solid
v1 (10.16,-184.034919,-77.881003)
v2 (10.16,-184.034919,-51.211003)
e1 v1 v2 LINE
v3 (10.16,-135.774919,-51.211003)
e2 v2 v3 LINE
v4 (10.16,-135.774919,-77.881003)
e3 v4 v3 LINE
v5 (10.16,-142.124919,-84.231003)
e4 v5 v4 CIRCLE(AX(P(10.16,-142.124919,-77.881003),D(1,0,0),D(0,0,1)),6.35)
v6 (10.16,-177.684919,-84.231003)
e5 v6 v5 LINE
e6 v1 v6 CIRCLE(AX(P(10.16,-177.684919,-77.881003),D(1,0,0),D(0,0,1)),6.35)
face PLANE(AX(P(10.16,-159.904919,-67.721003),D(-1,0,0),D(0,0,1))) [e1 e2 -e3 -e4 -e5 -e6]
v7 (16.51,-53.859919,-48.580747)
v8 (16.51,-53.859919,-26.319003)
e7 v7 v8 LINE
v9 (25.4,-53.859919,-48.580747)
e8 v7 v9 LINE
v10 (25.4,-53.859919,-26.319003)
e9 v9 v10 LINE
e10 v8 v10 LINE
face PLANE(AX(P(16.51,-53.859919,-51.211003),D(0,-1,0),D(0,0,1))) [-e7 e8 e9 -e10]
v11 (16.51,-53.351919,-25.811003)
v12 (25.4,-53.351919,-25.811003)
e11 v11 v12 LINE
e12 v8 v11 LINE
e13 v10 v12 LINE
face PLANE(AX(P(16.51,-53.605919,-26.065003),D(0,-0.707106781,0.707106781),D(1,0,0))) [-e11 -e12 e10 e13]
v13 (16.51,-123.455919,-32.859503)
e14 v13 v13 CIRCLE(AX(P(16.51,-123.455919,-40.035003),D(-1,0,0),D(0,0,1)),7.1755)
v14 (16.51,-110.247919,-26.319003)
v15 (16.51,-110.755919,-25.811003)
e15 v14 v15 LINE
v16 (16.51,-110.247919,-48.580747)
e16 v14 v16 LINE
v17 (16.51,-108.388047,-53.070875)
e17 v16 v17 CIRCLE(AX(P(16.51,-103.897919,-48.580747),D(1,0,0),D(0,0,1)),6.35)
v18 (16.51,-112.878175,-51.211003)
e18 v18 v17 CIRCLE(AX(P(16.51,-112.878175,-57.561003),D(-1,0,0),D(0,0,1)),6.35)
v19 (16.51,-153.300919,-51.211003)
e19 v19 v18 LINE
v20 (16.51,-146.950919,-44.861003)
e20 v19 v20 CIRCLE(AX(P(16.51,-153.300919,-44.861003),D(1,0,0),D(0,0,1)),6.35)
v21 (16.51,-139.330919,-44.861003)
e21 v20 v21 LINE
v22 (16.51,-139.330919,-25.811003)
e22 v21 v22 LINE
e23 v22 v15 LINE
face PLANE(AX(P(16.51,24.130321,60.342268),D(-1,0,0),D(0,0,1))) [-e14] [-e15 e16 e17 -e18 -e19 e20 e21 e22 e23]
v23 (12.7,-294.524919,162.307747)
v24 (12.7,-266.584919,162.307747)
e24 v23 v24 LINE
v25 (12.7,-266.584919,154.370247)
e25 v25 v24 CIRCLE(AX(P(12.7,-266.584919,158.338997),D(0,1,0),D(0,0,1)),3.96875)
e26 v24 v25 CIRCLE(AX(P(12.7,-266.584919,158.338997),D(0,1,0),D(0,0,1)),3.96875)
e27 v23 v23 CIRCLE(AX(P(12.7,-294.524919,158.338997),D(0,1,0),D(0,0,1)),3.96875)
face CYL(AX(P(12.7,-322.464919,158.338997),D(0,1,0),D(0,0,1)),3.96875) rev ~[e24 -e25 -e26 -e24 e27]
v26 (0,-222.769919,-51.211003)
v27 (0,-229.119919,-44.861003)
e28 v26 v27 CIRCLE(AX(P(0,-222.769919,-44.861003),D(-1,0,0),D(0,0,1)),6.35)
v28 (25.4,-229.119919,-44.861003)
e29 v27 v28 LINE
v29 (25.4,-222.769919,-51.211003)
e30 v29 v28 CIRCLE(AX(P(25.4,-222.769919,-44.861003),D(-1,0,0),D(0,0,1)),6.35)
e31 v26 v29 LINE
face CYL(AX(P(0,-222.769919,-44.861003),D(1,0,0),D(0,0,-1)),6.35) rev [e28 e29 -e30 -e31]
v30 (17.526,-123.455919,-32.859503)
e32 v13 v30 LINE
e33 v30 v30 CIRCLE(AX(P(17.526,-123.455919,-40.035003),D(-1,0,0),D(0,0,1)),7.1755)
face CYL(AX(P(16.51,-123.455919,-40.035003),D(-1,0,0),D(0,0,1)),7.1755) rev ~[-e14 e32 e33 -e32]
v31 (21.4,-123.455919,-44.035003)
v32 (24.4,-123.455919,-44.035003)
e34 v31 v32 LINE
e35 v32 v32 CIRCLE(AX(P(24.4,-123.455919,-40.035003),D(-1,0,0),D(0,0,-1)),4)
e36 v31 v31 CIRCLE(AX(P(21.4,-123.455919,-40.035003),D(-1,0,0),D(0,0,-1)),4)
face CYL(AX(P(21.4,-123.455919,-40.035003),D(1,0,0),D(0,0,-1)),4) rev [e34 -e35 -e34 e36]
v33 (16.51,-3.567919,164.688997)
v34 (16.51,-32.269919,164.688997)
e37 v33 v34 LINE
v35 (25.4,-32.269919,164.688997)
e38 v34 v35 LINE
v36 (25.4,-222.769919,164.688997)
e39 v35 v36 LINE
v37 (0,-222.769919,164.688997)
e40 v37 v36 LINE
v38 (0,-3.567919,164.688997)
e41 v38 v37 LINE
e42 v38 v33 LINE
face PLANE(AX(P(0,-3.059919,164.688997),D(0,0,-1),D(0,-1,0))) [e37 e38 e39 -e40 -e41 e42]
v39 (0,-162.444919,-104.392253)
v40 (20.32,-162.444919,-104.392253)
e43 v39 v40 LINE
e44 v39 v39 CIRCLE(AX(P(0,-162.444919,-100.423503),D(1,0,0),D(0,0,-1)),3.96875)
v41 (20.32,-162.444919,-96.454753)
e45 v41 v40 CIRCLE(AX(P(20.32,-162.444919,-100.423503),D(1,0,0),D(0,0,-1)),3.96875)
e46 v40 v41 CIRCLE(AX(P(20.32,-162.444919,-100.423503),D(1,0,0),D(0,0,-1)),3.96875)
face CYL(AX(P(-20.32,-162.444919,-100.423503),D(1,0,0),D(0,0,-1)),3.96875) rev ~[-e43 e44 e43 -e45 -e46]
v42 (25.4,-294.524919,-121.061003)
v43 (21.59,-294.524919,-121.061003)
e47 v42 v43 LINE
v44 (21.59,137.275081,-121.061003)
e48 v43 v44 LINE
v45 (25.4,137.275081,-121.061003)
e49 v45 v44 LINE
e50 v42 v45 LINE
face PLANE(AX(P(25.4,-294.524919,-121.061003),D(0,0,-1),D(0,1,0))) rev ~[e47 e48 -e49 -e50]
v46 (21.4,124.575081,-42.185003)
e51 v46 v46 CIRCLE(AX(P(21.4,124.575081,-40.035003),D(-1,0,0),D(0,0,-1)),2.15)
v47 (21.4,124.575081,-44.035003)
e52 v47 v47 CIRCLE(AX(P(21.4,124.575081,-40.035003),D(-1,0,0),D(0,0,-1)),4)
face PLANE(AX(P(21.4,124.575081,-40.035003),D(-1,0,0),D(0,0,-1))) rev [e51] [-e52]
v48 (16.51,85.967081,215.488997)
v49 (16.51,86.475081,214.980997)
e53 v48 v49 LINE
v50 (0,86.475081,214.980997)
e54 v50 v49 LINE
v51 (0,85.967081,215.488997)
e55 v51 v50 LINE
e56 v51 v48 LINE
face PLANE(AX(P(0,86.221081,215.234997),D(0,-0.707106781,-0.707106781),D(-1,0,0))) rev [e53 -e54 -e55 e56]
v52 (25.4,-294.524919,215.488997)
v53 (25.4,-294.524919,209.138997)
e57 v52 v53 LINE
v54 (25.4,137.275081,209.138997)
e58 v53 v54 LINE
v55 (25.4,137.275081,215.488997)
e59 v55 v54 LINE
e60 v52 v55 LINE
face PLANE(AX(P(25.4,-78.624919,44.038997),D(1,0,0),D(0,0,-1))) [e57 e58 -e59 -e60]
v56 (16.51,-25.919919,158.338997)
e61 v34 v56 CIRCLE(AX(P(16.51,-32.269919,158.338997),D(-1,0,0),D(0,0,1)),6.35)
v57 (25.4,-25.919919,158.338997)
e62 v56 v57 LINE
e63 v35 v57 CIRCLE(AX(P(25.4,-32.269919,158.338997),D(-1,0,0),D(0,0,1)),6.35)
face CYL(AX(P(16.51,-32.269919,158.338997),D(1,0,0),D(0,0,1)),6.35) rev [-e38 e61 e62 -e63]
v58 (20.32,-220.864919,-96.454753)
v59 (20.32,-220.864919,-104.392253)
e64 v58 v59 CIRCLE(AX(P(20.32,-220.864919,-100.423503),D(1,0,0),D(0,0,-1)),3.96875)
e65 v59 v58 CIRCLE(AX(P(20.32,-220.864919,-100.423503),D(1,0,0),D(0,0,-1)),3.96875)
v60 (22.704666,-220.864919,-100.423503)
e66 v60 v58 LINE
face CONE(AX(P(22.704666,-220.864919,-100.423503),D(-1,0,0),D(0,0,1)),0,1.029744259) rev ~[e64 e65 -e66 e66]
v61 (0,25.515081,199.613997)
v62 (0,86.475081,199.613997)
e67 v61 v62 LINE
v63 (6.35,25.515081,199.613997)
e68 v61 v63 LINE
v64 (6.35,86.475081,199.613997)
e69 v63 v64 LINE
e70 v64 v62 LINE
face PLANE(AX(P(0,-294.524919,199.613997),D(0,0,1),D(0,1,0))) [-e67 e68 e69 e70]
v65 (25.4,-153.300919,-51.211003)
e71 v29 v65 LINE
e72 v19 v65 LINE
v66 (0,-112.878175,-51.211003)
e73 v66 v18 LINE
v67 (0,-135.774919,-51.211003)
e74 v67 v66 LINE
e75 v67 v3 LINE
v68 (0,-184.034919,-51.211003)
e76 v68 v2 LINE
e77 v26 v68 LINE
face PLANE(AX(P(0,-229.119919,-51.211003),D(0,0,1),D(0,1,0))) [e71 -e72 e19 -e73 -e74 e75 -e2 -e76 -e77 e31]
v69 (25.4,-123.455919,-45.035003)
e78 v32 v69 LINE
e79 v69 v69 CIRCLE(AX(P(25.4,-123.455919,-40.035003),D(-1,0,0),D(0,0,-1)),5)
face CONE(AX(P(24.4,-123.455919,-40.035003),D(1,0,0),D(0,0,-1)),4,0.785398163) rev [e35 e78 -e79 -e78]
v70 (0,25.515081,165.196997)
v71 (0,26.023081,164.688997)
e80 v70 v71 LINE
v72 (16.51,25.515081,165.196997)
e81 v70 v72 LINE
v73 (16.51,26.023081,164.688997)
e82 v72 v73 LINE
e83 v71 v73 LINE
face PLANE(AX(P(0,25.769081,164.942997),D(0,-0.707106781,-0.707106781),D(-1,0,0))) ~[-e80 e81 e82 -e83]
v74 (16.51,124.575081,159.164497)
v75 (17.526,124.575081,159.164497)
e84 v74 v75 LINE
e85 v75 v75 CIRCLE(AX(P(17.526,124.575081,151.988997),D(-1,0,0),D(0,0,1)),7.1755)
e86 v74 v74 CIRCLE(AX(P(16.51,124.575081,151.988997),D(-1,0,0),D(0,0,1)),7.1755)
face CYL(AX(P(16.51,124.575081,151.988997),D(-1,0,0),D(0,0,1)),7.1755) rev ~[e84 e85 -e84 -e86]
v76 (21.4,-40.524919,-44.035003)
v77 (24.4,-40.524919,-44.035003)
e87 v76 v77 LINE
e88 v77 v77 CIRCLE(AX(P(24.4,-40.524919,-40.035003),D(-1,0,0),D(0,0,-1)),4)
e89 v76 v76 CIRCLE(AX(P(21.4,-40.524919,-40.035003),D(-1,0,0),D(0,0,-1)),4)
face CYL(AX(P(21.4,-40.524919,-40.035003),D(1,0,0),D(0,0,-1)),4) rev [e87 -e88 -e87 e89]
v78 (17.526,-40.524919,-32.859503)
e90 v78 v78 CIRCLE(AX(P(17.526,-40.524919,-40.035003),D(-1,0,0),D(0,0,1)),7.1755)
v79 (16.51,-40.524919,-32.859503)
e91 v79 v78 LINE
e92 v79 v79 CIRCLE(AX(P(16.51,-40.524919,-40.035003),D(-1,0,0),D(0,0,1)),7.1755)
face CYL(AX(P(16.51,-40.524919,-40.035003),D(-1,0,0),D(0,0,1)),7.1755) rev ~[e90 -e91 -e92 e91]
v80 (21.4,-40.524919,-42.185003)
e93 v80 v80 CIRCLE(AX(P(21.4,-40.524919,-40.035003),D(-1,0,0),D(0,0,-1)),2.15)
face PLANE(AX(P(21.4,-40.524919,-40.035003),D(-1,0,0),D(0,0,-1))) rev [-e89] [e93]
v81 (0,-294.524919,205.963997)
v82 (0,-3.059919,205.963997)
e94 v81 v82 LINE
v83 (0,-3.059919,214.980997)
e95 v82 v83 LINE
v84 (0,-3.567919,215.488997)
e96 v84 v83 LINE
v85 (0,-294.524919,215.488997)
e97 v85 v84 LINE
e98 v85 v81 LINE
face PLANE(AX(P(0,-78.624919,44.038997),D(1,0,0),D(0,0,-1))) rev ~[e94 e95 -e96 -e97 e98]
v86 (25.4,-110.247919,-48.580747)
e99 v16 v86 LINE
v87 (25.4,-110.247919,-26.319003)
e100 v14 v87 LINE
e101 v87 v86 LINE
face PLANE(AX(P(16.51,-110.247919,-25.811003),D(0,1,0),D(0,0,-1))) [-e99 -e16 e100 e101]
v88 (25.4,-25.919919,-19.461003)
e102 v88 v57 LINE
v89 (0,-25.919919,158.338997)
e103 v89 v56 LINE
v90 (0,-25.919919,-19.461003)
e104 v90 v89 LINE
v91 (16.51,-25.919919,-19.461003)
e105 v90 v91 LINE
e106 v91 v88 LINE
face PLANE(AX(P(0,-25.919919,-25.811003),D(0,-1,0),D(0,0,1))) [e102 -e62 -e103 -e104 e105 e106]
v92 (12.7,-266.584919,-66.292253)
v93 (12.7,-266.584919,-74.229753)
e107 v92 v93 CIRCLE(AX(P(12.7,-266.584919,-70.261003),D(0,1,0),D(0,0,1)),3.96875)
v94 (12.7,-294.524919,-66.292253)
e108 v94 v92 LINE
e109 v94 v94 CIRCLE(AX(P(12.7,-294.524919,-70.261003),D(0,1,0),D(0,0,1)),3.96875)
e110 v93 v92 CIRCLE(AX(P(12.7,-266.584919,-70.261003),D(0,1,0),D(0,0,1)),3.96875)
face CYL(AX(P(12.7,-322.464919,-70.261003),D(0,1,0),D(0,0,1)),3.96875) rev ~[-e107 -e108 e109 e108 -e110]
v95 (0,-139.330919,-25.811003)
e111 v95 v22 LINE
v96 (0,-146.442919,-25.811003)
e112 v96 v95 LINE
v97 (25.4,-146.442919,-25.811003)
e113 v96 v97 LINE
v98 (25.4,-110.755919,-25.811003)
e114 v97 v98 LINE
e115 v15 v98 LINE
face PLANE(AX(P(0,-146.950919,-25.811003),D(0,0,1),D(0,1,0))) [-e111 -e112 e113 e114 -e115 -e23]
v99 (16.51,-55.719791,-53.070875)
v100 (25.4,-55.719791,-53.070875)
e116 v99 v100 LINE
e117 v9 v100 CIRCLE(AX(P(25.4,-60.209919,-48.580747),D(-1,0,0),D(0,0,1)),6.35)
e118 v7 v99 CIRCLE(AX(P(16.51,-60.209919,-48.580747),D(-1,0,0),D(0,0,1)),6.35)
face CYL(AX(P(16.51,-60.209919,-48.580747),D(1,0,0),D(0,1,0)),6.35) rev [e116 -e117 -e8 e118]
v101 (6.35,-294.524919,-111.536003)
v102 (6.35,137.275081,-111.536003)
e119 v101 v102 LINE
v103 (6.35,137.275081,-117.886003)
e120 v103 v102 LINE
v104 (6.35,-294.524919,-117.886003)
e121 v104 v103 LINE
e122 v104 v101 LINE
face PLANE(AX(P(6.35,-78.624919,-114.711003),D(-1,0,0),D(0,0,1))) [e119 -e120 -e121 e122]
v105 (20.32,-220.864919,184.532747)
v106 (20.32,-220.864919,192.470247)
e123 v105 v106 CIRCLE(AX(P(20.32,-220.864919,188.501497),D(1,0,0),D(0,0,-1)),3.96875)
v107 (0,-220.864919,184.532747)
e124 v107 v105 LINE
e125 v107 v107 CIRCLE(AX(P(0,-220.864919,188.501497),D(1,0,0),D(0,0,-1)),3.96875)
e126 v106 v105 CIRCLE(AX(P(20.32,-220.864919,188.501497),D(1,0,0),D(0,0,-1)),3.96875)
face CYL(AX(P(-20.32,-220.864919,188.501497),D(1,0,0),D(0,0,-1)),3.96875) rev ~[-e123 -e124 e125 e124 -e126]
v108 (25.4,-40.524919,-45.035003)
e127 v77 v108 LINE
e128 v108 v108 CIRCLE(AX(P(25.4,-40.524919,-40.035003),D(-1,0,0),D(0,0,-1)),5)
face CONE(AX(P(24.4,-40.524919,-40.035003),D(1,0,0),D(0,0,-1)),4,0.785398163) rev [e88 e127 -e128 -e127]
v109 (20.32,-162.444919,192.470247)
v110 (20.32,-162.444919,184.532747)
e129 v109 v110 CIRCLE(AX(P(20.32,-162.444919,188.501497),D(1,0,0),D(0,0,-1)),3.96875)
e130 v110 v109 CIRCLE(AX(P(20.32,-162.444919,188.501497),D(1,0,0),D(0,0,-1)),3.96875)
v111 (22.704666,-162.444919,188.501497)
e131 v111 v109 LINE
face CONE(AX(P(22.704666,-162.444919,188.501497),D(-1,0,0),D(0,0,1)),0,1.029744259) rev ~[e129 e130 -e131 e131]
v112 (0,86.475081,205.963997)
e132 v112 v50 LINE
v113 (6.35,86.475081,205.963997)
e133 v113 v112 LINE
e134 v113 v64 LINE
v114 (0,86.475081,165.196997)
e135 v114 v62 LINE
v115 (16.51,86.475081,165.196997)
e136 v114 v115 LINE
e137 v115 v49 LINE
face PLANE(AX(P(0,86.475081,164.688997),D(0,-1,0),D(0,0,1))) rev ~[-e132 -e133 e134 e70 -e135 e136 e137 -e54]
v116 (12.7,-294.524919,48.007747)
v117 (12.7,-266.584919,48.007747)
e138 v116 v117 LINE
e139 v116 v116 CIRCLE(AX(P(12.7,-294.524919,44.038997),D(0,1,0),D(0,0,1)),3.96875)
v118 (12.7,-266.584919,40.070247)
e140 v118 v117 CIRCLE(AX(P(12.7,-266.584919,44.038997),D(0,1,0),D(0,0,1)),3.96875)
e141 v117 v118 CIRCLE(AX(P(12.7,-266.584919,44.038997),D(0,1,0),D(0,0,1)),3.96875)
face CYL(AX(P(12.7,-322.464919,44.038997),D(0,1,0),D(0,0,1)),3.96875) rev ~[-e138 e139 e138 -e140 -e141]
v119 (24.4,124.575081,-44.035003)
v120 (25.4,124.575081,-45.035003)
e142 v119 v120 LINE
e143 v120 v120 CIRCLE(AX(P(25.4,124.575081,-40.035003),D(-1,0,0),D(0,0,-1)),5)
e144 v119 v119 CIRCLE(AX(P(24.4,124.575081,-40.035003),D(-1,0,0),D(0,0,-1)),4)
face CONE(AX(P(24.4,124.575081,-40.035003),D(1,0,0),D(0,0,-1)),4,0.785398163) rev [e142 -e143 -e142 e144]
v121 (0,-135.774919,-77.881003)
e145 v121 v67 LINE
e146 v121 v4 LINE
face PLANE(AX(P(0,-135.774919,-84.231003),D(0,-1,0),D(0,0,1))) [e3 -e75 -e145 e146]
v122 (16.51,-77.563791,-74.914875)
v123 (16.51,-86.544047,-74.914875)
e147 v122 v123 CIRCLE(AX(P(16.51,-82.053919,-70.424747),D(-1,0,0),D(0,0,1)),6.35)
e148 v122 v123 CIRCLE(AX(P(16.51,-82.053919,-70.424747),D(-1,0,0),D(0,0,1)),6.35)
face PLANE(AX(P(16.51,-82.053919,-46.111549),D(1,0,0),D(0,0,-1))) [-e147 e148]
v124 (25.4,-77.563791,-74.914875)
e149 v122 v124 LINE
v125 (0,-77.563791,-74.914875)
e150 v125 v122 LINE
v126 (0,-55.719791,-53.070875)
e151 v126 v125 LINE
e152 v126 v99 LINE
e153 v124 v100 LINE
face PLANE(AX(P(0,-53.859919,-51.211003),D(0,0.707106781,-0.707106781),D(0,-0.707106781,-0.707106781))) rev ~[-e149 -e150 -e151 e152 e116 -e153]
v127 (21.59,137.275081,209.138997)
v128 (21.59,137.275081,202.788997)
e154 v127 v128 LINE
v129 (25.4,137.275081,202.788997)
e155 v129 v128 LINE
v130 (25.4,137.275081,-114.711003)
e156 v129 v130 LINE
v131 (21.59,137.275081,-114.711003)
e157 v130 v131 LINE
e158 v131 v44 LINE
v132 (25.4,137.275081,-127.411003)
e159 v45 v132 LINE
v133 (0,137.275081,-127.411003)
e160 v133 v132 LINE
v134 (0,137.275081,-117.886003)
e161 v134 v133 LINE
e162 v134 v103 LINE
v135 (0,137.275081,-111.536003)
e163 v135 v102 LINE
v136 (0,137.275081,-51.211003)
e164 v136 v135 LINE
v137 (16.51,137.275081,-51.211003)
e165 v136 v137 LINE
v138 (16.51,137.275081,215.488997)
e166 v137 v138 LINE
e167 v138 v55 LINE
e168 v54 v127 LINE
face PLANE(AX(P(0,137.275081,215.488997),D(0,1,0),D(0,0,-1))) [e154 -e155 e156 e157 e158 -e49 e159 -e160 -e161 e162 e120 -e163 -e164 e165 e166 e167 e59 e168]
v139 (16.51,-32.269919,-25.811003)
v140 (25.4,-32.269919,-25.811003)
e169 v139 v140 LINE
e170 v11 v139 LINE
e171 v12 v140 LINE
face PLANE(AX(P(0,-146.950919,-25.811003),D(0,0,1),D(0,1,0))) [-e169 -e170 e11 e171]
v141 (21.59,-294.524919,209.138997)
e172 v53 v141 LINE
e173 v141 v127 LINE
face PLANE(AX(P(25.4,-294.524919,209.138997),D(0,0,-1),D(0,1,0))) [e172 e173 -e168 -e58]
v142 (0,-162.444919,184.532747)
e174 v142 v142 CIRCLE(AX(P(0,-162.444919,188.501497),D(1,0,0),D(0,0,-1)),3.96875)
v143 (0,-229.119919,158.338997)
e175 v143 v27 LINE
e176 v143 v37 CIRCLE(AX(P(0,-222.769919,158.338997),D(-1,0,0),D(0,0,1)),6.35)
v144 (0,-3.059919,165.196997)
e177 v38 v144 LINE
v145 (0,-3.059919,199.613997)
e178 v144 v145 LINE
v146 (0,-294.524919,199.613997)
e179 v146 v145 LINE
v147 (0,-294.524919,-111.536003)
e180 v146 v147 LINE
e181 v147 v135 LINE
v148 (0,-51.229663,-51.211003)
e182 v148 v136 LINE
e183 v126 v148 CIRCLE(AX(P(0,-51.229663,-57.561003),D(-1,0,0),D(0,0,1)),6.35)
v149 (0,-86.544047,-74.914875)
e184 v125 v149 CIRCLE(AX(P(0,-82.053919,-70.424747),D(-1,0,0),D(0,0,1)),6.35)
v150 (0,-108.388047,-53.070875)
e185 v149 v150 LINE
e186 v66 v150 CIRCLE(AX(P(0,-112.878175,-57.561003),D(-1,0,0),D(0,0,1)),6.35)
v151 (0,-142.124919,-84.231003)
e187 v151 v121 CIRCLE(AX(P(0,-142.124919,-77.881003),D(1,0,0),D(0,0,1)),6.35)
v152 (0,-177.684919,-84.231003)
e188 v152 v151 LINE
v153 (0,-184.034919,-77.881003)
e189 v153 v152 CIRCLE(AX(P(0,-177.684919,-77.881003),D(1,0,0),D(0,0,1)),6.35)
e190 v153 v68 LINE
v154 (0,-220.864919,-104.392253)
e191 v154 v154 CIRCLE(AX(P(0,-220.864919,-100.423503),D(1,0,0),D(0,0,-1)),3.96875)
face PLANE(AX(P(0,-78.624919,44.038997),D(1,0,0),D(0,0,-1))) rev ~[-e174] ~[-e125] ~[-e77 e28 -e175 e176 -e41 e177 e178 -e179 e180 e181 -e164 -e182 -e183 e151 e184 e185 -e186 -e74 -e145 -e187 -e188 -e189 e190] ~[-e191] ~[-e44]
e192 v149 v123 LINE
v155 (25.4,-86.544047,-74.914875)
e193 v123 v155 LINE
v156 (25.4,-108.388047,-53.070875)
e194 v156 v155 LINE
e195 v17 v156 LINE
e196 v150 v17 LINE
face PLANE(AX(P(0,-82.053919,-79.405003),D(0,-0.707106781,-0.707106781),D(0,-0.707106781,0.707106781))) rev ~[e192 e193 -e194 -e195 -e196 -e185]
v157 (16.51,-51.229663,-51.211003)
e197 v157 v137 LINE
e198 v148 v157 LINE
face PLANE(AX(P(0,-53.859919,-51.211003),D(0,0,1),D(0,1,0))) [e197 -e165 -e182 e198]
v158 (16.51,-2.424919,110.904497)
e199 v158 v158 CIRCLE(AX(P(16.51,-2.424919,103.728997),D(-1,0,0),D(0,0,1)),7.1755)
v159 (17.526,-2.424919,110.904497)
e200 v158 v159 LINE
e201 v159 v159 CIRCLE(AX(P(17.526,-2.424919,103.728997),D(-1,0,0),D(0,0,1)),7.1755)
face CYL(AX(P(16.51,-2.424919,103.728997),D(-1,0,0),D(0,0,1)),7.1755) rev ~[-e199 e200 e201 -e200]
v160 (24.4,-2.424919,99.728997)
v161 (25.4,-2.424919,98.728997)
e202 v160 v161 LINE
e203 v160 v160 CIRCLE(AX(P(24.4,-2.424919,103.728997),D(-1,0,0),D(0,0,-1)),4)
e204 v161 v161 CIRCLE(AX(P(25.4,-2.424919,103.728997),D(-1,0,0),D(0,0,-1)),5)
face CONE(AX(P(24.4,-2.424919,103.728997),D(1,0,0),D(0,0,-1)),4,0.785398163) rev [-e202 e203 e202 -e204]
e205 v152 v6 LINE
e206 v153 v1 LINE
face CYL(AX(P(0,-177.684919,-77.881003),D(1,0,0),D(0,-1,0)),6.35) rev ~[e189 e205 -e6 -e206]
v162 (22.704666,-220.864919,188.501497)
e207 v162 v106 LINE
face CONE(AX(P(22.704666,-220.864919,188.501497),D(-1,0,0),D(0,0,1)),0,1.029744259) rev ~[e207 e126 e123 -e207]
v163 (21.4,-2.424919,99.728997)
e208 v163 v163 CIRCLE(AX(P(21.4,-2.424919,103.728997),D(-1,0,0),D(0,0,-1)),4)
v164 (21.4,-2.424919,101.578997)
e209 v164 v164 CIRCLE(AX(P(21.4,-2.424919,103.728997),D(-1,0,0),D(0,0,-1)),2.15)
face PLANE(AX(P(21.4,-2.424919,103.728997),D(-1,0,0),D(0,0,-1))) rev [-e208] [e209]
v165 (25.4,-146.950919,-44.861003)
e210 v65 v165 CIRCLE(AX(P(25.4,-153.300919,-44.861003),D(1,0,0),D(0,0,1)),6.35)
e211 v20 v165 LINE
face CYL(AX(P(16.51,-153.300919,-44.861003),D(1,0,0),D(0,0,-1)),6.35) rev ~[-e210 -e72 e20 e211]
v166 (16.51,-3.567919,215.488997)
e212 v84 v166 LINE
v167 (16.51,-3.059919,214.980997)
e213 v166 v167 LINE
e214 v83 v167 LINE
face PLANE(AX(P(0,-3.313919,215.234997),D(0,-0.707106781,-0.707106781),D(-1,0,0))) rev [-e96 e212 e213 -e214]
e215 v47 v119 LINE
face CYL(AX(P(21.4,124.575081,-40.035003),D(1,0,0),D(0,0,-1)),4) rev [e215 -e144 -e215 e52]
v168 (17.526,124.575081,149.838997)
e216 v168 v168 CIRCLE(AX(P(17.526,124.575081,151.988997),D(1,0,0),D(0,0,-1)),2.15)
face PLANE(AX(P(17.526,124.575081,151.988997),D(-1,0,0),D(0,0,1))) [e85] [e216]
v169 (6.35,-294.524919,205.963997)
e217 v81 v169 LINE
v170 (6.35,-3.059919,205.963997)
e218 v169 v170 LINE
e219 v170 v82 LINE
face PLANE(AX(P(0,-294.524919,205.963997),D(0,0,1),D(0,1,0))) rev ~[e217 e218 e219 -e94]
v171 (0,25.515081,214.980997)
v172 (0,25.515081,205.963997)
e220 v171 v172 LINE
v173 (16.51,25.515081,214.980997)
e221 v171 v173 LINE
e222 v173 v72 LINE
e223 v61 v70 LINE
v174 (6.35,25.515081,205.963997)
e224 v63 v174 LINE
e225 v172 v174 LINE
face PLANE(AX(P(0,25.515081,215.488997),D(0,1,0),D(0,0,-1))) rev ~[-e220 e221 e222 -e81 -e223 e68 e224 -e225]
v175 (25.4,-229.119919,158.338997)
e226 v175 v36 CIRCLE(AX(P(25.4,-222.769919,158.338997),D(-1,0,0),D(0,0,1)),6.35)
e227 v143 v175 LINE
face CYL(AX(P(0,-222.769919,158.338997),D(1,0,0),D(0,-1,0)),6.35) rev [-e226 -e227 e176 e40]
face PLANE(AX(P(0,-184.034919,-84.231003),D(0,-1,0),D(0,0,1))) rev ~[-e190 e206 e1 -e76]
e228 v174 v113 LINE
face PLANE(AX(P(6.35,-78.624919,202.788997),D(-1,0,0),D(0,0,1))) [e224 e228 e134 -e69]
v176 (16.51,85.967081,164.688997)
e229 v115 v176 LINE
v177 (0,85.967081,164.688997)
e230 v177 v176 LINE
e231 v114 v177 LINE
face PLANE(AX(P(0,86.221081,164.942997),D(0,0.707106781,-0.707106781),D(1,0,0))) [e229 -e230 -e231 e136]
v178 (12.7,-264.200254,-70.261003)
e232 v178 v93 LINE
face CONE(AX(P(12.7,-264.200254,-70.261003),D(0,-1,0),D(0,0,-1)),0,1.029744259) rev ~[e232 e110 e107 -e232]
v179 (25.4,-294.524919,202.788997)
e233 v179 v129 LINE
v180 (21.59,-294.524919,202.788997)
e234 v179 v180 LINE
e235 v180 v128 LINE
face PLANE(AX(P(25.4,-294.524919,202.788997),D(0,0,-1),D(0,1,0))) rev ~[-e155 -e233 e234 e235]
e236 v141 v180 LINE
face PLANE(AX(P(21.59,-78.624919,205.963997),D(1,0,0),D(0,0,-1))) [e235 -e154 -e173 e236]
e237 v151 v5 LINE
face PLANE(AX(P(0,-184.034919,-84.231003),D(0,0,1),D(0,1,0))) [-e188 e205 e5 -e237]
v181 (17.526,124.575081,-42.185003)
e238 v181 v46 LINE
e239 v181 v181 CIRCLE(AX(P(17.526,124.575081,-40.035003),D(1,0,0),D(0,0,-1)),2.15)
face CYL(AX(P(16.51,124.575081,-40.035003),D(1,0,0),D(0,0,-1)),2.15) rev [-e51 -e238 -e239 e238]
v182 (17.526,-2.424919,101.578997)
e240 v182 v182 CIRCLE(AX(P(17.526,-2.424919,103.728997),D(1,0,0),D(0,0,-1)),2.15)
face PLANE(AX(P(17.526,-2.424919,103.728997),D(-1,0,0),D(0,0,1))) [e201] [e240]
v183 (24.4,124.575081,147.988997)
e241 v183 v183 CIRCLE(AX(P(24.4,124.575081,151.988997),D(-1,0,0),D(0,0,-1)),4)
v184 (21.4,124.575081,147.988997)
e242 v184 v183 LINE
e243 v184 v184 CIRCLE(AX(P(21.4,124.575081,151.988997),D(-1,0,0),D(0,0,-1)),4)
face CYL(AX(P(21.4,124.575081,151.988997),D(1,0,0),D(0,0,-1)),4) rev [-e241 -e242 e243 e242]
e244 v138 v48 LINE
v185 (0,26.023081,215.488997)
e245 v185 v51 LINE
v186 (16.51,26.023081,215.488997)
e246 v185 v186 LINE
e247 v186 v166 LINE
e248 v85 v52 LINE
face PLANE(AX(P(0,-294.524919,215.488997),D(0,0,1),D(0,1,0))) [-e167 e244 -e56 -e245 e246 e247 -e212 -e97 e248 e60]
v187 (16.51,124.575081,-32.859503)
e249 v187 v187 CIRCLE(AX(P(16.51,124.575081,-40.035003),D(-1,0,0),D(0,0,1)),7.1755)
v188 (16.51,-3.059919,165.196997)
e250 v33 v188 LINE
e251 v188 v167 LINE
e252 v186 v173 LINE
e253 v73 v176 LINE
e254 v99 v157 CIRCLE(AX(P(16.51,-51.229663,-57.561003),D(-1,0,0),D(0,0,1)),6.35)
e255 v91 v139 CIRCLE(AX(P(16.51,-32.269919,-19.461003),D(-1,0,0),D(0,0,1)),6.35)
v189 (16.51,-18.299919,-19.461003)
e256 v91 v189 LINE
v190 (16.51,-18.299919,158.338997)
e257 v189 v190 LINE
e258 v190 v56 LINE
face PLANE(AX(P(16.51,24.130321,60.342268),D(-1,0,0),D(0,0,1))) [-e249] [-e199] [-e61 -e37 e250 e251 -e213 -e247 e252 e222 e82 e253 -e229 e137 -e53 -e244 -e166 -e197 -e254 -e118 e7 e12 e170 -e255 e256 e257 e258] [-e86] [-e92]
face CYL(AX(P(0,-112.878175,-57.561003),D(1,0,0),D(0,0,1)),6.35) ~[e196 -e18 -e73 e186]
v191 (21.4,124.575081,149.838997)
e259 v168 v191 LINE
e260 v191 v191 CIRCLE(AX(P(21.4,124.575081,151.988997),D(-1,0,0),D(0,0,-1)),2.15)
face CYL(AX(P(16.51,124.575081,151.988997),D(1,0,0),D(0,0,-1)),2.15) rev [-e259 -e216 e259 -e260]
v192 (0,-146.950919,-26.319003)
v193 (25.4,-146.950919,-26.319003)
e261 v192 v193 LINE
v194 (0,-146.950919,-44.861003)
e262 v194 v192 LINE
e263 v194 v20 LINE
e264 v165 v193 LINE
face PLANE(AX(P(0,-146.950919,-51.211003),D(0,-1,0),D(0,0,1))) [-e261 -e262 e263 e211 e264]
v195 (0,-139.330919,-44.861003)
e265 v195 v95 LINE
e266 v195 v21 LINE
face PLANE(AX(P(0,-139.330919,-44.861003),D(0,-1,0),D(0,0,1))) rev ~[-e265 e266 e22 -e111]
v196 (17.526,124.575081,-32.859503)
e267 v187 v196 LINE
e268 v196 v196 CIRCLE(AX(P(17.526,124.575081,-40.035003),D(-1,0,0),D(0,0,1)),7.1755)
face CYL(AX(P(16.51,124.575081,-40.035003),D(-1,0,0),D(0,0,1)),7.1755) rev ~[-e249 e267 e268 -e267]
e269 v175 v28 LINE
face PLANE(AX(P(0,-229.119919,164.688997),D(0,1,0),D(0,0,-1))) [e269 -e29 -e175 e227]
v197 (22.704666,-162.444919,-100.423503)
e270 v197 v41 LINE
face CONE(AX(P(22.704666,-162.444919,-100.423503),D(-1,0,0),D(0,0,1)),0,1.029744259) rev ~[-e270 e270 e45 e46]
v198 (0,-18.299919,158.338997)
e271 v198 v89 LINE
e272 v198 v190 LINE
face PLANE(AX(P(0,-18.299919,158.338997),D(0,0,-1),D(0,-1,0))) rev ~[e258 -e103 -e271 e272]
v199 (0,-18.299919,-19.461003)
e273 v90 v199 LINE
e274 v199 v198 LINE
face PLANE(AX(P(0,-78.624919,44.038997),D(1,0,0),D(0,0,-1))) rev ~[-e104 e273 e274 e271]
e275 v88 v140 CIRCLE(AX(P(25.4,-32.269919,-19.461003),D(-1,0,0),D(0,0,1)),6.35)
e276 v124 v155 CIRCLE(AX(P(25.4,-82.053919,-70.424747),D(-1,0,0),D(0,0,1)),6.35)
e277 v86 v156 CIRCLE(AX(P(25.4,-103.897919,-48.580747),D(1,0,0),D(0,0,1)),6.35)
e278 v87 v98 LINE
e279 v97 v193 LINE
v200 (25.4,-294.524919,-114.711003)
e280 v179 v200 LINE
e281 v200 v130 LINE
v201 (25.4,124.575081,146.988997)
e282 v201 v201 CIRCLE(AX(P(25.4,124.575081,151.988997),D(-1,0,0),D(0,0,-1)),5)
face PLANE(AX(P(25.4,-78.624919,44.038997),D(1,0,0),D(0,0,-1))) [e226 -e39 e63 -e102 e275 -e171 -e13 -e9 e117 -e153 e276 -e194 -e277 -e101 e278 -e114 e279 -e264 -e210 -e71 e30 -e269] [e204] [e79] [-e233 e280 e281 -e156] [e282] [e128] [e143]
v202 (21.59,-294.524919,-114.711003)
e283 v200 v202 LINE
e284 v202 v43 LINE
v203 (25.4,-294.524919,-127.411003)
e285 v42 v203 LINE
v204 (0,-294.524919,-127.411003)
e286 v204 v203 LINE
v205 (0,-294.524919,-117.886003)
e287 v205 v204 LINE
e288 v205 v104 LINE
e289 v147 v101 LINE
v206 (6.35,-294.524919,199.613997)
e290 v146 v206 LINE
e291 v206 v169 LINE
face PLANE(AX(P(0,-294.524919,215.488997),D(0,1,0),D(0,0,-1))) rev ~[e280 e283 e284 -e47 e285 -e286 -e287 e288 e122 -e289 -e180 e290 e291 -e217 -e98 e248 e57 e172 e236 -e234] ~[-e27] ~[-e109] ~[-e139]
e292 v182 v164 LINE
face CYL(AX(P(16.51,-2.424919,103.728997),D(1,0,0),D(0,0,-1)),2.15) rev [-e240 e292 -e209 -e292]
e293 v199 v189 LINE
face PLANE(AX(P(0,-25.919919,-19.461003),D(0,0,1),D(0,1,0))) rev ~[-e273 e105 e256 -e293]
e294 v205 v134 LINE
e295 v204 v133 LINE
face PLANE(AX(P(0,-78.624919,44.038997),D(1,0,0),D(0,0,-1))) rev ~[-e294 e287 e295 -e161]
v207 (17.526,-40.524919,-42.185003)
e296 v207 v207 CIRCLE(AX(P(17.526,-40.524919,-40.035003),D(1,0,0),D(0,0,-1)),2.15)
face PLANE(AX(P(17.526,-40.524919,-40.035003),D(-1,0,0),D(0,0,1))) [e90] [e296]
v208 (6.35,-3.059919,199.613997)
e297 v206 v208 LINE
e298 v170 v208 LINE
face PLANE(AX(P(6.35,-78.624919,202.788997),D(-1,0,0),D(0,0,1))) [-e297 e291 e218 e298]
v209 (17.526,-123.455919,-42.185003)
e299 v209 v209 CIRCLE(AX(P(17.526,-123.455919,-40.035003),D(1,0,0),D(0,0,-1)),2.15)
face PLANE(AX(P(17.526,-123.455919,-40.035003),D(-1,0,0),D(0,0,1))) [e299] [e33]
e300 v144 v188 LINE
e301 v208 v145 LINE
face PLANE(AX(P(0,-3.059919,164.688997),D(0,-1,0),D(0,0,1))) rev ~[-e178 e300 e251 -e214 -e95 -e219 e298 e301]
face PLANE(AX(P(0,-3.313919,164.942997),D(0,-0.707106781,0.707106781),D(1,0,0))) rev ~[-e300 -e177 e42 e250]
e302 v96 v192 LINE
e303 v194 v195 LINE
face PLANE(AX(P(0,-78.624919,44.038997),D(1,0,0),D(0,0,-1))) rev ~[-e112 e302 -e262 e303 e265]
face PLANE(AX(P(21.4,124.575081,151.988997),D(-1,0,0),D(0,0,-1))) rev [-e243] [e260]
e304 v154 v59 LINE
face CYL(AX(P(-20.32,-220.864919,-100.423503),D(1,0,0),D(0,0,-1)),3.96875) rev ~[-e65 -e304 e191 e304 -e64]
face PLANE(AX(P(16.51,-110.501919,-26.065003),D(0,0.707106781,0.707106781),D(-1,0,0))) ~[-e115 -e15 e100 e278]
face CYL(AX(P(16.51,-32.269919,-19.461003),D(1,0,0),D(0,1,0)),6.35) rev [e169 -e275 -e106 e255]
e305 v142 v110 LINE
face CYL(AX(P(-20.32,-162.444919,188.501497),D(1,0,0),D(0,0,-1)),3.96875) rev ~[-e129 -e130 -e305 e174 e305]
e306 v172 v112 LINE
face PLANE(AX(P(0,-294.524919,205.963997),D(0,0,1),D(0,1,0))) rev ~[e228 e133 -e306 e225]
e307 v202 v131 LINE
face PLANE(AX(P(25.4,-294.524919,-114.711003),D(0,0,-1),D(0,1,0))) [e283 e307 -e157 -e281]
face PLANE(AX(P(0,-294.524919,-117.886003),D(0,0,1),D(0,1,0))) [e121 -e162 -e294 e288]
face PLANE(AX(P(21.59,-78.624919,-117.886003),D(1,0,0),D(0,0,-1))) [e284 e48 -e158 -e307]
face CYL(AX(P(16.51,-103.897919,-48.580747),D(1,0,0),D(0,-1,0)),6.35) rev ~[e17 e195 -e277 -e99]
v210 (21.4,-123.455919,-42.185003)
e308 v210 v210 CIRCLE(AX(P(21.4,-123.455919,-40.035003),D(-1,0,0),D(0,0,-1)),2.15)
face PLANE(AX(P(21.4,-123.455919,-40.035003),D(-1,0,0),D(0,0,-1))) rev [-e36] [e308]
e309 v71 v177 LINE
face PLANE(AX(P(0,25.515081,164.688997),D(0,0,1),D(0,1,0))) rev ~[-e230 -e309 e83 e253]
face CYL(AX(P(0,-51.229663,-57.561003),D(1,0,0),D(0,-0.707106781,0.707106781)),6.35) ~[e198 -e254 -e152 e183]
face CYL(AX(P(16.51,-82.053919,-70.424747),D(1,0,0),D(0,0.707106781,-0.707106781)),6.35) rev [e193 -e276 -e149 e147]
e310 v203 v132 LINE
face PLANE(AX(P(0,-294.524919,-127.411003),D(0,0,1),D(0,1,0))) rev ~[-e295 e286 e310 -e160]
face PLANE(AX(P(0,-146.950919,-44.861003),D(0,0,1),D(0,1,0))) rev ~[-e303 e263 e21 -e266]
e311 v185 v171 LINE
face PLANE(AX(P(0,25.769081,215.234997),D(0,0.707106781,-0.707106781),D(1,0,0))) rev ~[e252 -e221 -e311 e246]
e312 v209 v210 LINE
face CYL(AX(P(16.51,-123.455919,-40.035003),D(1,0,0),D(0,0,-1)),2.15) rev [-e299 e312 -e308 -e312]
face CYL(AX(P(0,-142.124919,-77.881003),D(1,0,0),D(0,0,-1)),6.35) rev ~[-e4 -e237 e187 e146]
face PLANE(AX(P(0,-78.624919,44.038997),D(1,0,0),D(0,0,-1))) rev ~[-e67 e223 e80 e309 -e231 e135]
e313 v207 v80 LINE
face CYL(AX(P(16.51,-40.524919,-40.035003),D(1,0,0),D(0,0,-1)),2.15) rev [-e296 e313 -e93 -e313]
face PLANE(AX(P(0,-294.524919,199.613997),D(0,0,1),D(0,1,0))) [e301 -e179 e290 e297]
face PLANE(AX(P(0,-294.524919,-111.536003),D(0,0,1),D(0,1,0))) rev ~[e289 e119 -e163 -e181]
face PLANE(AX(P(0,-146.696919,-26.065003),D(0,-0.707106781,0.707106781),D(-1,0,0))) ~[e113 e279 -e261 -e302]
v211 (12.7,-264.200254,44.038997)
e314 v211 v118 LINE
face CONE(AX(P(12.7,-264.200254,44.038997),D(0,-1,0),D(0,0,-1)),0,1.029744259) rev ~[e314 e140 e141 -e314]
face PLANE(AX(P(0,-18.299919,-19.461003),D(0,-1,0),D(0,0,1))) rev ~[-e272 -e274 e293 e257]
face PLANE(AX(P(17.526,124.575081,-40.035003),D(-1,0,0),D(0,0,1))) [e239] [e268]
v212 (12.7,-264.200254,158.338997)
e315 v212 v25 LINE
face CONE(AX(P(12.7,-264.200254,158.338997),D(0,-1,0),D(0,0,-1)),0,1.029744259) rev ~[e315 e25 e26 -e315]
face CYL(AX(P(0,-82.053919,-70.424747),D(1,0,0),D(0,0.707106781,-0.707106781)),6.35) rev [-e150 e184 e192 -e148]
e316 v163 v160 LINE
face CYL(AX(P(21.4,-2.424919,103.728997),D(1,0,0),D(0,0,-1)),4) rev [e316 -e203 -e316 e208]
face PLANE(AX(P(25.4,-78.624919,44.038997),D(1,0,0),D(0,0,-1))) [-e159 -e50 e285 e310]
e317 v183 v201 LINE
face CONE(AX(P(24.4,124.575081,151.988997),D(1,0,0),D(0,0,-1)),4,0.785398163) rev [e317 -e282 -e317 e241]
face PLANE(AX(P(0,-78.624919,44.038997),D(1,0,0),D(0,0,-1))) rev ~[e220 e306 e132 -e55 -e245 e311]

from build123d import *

# Parameters (mm, degrees)
SKETCH2_W                     = 342.9
SKETCH2_H                     = 431.8
BASE_DEPTH                    = 25.4
CUT_EXTRUDE3_REACH            = 27.4
NC_POCKET_DEPTH               = 16.51
FILLET9_R                     = 6.35
FILLET6_R                     = 6.35
CBORE_FOR_M4_SHCS1_AT_2_COUNT = 2
CBORE_FOR_M4_SHCS1_AT_2_PITCH = 192.024
CBORE_FOR_M4_SHCS1_AT_3_COUNT = 2
CBORE_FOR_M4_SHCS1_AT_3_PITCH = 313.675937134
CBORE_FOR_M4_SHCS1_AT_4_COUNT = 2
CBORE_FOR_M4_SHCS1_AT_4_PITCH = 253.241439295
CBORE_FOR_M4_SHCS1_AT_5_COUNT = 2
CBORE_FOR_M4_SHCS1_AT_5_PITCH = 135.860323862
SKETCH18_R                    = 7.1755
CUT_EXTRUDE4_DEPTH            = 1.016
F_3_8_16_TAPPED_HOLE1_D       = 7.9375
F_3_8_16_TAPPED_HOLE1_DEPTH   = 27.94
F_3_8_16_TAPPED_HOLE1_TIP     = 2.384665582
F_3_8_16_TAPPED_HOLE2_D       = 7.9375
F_3_8_16_TAPPED_HOLE2_DEPTH   = 20.32
F_3_8_16_TAPPED_HOLE2_TIP     = 2.384665582
CUT_EXTRUDE5_REACH            = 10.89
FILLET1_R                     = 6.35
FILLET2_R                     = 6.35
CHAMFER1_SIZE                 = 0.508
SKETCH21_W                    = 6.35
SKETCH21_H                    = 431.8
CUT_EXTRUDE6_DEPTH            = 6.35
SKETCH22_W                    = 6.35
SKETCH22_H                    = 431.8
CUT_EXTRUDE7_DEPTH            = 3.81
SKETCH23_W                    = 33.02
SKETCH23_H                    = 48.26
CUT_EXTRUDE8_DEPTH            = 10.16
FILLET10_R                    = 6.35


with BuildPart() as part:
    # Sketch2 → Base (new body)
    with BuildSketch(Plane(origin=(0, 0, 0), x_dir=(0, 0, -1), z_dir=(1, 0, 0))):
        with Locations((-44.038996764, -78.624919094)):
            Rectangle(SKETCH2_W, SKETCH2_H)
    extrude(amount=BASE_DEPTH)

    # Sketch3 → Cut-Extrude3 (cut, up to next)
    with BuildSketch(Plane(origin=(0, 0, 0), x_dir=(0, 0, -1), z_dir=(1, 0, 0)), mode=Mode.PRIVATE) as cut_extrude3_sk1:
        Polygon((-164.688996764, -25.919919094), (-164.688996764, -229.119919094), (51.211003236, -229.119919094), (51.211003236, -146.950919094), (25.811003236, -146.950919094), (25.811003236, -25.919919094), align=None)
    cut_extrude3_tool1 = extrude(cut_extrude3_sk1.sketch, amount=CUT_EXTRUDE3_REACH, mode=Mode.PRIVATE) & part.part
    add(cut_extrude3_tool1.solids().sort_by_distance((0, -130.615794, 63.91645))[0], mode=Mode.SUBTRACT)

    # Sketch4 → NC pocket (cut)
    with BuildSketch(Plane(origin=(0, 0, 0), x_dir=(0, 0, -1), z_dir=(1, 0, 0))):
        Polygon((19.461003236, -18.299919094), (-158.338996764, -18.299919094), (-158.338996764, -25.919919094), (-164.688996764, -25.919919094), (-164.688996764, -12.583714933), (-164.688996764, -3.059919094), (-215.488996764, -3.059919094), (-215.488996764, 25.515080906), (-164.688996764, 25.515080906), (-164.688996764, 86.475080906), (-215.488996764, 86.475080906), (-215.488996764, 90.285080906), (-215.488996764, 137.275080906), (-202.788996764, 137.275080906), (51.211003236, 137.275080906), (51.211003236, -15.124919094), (51.211003236, -53.859919094), (79.405003236, -82.053919094), (51.211003236, -110.247919094), (51.211003236, -136.155919094), (51.211003236, -146.950919094), (44.861003236, -146.950919094), (44.861003236, -139.330919094), (25.811003236, -139.330919094), (25.811003236, -25.919919094), (19.461003236, -25.919919094), align=None)
    extrude(amount=NC_POCKET_DEPTH, mode=Mode.SUBTRACT)

    # Fillet9
    fillet9_edges = [part.edges().sort_by_distance(p)[0] for p in [
        (8.255, -53.859919094, -51.211003236),
        (8.255, -110.247919094, -51.211003236),
    ]]
    fillet(fillet9_edges, radius=FILLET9_R)

    # Fillet6
    fillet6_edges = [part.edges().sort_by_distance(p)[0] for p in [
        (8.255, -82.053919094, -79.405003236),
    ]]
    fillet(fillet6_edges, radius=FILLET6_R)

    # Sketch10 → CBORE for M4 SHCS1 (revolve, cut)
    with BuildSketch(Plane(origin=(25.4, 124.575080906, 151.988996764), x_dir=(0, 0, -1), z_dir=(0, 1, 0))):
        Polygon((0, 0), (0, 8.89), (2.15, 8.89), (2.15, 4), (4, 4), (4, 1), (5, 0), align=None)
    cbore_for_m4_shcs1 = revolve(axis=Axis((31.75, 124.575080906, 151.988996764), (-1, 0, 0)), mode=Mode.SUBTRACT)

    # CBORE for M4 SHCS1 at 2: CBORE for M4 SHCS1 ×2
    with Locations(*[(0, 0, -i * CBORE_FOR_M4_SHCS1_AT_2_PITCH) for i in range(1, CBORE_FOR_M4_SHCS1_AT_2_COUNT)]):
        add(cbore_for_m4_shcs1, mode=Mode.SUBTRACT)

    # CBORE for M4 SHCS1 at 3: CBORE for M4 SHCS1 ×2
    with Locations(*[Vector(0, -0.790723708, -0.612173193) * (i * CBORE_FOR_M4_SHCS1_AT_3_PITCH) for i in range(1, CBORE_FOR_M4_SHCS1_AT_3_COUNT)]):
        add(cbore_for_m4_shcs1, mode=Mode.SUBTRACT)

    # CBORE for M4 SHCS1 at 4: CBORE for M4 SHCS1 ×2
    with Locations(*[Vector(0, -0.651947013, -0.758264526) * (i * CBORE_FOR_M4_SHCS1_AT_4_PITCH) for i in range(1, CBORE_FOR_M4_SHCS1_AT_4_COUNT)]):
        add(cbore_for_m4_shcs1, mode=Mode.SUBTRACT)

    # CBORE for M4 SHCS1 at 5: CBORE for M4 SHCS1 ×2
    with Locations(*[Vector(0, -0.934783581, -0.355217761) * (i * CBORE_FOR_M4_SHCS1_AT_5_PITCH) for i in range(1, CBORE_FOR_M4_SHCS1_AT_5_COUNT)]):
        add(cbore_for_m4_shcs1, mode=Mode.SUBTRACT)

    # Sketch18 → Cut-Extrude4 (cut)
    with BuildSketch(Plane.ZY.offset(-16.51)):
        with Locations((-40.035003236, 124.575080906)):
            Circle(SKETCH18_R)
        with Locations((151.988996764, 124.575080906)):
            Circle(SKETCH18_R)
        with Locations((103.728996764, -2.424919094)):
            Circle(SKETCH18_R)
        with Locations((-40.035003236, -40.524919094)):
            Circle(SKETCH18_R)
        with Locations((-40.035003236, -123.455919094)):
            Circle(SKETCH18_R)
    extrude(amount=-CUT_EXTRUDE4_DEPTH, mode=Mode.SUBTRACT)

    # 3/8-16 Tapped Hole1
    with Locations(Plane(origin=(12.7, -294.524919094, -70.261003236), x_dir=(0, 0, -1), z_dir=(0, -1, 0))):
        with Locations((0, 0), (-114.3, 0), (-228.6, 0)):
            Hole(F_3_8_16_TAPPED_HOLE1_D / 2, depth=F_3_8_16_TAPPED_HOLE1_DEPTH)
            with Locations((0, 0, -(F_3_8_16_TAPPED_HOLE1_DEPTH + F_3_8_16_TAPPED_HOLE1_TIP / 2))):  # 118° drill point
                Cone(0, F_3_8_16_TAPPED_HOLE1_D / 2, F_3_8_16_TAPPED_HOLE1_TIP, mode=Mode.SUBTRACT)

    # 3/8-16 Tapped Hole2
    with Locations(Plane.ZY):
        with Locations((188.501496764, -220.864919094), (188.501496764, -162.444919094), (-100.423503236, -220.864919094), (-100.423503236, -162.444919094)):
            Hole(F_3_8_16_TAPPED_HOLE2_D / 2, depth=F_3_8_16_TAPPED_HOLE2_DEPTH)
            with Locations((0, 0, -(F_3_8_16_TAPPED_HOLE2_DEPTH + F_3_8_16_TAPPED_HOLE2_TIP / 2))):  # 118° drill point
                Cone(0, F_3_8_16_TAPPED_HOLE2_D / 2, F_3_8_16_TAPPED_HOLE2_TIP, mode=Mode.SUBTRACT)

    # Sketch20 → Cut-Extrude5 (cut, up to next)
    with BuildSketch(Plane.ZY.offset(-16.51), mode=Mode.PRIVATE) as cut_extrude5_sk1:
        Polygon((-51.211003236, -53.859919094), (-25.811003236, -53.859919094), (-25.811003236, -110.247919094), (-51.211003236, -110.247919094), (-79.405003236, -82.053919094), align=None)
    cut_extrude5_tool1 = extrude(cut_extrude5_sk1.sketch, amount=-CUT_EXTRUDE5_REACH, mode=Mode.PRIVATE) & part.part
    add(cut_extrude5_tool1.solids().sort_by_distance((16.51, -82.053919, -46.398071))[0], mode=Mode.SUBTRACT)

    # Fillet1
    fillet1_edges = [part.edges().sort_by_distance(p)[0] for p in [
        (20.955, -25.919919094, 164.688996764),
        (12.7, -229.119919094, 164.688996764),
        (12.7, -229.119919094, -51.211003236),
        (20.955, -146.950919094, -51.211003236),
        (20.955, -25.919919094, -25.811003236),
    ]]
    fillet(fillet1_edges, radius=FILLET1_R)

    # Fillet2
    fillet2_edges = [part.edges().sort_by_distance(p)[0] for p in [
        (20.955, -82.053919094, -79.405003236),
        (20.955, -110.247919094, -51.211003236),
        (20.955, -53.859919094, -51.211003236),
    ]]
    fillet(fillet2_edges, radius=FILLET2_R)

    # Chamfer1
    chamfer1_edges = [part.edges().sort_by_distance(p)[0] for p in [
        (12.7, -146.950919094, -25.811003236),
        (20.955, -53.859919094, -25.811003236),
        (20.955, -110.247919094, -25.811003236),
        (8.255, 86.475080906, 215.488996764),
        (8.255, 86.475080906, 164.688996764),
        (8.255, 25.515080906, 164.688996764),
        (8.255, 25.515080906, 215.488996764),
        (8.255, -3.059919094, 215.488996764),
        (8.255, -3.059919094, 164.688996764),
    ]]
    chamfer(chamfer1_edges, length=CHAMFER1_SIZE)

    # Sketch21 → Cut-Extrude6 (cut)
    with BuildSketch(Plane.ZY):
        with Locations((202.788996764, -78.624919094)):
            Rectangle(SKETCH21_W, SKETCH21_H)
        with Locations((-114.711003236, -78.624919094)):
            Rectangle(SKETCH21_W, SKETCH21_H)
    extrude(amount=-CUT_EXTRUDE6_DEPTH, mode=Mode.SUBTRACT)

    # Sketch22 → Cut-Extrude7 (cut)
    with BuildSketch(Plane(origin=(25.4, 0, 0), x_dir=(0, 0, -1), z_dir=(1, 0, 0))):
        with Locations((-205.963996764, -78.624919094)):
            Rectangle(SKETCH22_W, SKETCH22_H)
        with Locations((117.886003236, -78.624919094)):
            Rectangle(SKETCH22_W, SKETCH22_H)
    extrude(amount=-CUT_EXTRUDE7_DEPTH, mode=Mode.SUBTRACT)

    # Sketch23 → Cut-Extrude8 (cut)
    with BuildSketch(Plane.ZY):
        with Locations((-67.721003236, -159.904919094)):
            Rectangle(SKETCH23_W, SKETCH23_H)
    extrude(amount=-CUT_EXTRUDE8_DEPTH, mode=Mode.SUBTRACT)

    # Fillet10
    fillet10_edges = [part.edges().sort_by_distance(p)[0] for p in [
        (5.08, -184.034919094, -84.231003236),
        (5.08, -135.774919094, -84.231003236),
    ]]
    fillet(fillet10_edges, radius=FILLET10_R)


solid = part.part
